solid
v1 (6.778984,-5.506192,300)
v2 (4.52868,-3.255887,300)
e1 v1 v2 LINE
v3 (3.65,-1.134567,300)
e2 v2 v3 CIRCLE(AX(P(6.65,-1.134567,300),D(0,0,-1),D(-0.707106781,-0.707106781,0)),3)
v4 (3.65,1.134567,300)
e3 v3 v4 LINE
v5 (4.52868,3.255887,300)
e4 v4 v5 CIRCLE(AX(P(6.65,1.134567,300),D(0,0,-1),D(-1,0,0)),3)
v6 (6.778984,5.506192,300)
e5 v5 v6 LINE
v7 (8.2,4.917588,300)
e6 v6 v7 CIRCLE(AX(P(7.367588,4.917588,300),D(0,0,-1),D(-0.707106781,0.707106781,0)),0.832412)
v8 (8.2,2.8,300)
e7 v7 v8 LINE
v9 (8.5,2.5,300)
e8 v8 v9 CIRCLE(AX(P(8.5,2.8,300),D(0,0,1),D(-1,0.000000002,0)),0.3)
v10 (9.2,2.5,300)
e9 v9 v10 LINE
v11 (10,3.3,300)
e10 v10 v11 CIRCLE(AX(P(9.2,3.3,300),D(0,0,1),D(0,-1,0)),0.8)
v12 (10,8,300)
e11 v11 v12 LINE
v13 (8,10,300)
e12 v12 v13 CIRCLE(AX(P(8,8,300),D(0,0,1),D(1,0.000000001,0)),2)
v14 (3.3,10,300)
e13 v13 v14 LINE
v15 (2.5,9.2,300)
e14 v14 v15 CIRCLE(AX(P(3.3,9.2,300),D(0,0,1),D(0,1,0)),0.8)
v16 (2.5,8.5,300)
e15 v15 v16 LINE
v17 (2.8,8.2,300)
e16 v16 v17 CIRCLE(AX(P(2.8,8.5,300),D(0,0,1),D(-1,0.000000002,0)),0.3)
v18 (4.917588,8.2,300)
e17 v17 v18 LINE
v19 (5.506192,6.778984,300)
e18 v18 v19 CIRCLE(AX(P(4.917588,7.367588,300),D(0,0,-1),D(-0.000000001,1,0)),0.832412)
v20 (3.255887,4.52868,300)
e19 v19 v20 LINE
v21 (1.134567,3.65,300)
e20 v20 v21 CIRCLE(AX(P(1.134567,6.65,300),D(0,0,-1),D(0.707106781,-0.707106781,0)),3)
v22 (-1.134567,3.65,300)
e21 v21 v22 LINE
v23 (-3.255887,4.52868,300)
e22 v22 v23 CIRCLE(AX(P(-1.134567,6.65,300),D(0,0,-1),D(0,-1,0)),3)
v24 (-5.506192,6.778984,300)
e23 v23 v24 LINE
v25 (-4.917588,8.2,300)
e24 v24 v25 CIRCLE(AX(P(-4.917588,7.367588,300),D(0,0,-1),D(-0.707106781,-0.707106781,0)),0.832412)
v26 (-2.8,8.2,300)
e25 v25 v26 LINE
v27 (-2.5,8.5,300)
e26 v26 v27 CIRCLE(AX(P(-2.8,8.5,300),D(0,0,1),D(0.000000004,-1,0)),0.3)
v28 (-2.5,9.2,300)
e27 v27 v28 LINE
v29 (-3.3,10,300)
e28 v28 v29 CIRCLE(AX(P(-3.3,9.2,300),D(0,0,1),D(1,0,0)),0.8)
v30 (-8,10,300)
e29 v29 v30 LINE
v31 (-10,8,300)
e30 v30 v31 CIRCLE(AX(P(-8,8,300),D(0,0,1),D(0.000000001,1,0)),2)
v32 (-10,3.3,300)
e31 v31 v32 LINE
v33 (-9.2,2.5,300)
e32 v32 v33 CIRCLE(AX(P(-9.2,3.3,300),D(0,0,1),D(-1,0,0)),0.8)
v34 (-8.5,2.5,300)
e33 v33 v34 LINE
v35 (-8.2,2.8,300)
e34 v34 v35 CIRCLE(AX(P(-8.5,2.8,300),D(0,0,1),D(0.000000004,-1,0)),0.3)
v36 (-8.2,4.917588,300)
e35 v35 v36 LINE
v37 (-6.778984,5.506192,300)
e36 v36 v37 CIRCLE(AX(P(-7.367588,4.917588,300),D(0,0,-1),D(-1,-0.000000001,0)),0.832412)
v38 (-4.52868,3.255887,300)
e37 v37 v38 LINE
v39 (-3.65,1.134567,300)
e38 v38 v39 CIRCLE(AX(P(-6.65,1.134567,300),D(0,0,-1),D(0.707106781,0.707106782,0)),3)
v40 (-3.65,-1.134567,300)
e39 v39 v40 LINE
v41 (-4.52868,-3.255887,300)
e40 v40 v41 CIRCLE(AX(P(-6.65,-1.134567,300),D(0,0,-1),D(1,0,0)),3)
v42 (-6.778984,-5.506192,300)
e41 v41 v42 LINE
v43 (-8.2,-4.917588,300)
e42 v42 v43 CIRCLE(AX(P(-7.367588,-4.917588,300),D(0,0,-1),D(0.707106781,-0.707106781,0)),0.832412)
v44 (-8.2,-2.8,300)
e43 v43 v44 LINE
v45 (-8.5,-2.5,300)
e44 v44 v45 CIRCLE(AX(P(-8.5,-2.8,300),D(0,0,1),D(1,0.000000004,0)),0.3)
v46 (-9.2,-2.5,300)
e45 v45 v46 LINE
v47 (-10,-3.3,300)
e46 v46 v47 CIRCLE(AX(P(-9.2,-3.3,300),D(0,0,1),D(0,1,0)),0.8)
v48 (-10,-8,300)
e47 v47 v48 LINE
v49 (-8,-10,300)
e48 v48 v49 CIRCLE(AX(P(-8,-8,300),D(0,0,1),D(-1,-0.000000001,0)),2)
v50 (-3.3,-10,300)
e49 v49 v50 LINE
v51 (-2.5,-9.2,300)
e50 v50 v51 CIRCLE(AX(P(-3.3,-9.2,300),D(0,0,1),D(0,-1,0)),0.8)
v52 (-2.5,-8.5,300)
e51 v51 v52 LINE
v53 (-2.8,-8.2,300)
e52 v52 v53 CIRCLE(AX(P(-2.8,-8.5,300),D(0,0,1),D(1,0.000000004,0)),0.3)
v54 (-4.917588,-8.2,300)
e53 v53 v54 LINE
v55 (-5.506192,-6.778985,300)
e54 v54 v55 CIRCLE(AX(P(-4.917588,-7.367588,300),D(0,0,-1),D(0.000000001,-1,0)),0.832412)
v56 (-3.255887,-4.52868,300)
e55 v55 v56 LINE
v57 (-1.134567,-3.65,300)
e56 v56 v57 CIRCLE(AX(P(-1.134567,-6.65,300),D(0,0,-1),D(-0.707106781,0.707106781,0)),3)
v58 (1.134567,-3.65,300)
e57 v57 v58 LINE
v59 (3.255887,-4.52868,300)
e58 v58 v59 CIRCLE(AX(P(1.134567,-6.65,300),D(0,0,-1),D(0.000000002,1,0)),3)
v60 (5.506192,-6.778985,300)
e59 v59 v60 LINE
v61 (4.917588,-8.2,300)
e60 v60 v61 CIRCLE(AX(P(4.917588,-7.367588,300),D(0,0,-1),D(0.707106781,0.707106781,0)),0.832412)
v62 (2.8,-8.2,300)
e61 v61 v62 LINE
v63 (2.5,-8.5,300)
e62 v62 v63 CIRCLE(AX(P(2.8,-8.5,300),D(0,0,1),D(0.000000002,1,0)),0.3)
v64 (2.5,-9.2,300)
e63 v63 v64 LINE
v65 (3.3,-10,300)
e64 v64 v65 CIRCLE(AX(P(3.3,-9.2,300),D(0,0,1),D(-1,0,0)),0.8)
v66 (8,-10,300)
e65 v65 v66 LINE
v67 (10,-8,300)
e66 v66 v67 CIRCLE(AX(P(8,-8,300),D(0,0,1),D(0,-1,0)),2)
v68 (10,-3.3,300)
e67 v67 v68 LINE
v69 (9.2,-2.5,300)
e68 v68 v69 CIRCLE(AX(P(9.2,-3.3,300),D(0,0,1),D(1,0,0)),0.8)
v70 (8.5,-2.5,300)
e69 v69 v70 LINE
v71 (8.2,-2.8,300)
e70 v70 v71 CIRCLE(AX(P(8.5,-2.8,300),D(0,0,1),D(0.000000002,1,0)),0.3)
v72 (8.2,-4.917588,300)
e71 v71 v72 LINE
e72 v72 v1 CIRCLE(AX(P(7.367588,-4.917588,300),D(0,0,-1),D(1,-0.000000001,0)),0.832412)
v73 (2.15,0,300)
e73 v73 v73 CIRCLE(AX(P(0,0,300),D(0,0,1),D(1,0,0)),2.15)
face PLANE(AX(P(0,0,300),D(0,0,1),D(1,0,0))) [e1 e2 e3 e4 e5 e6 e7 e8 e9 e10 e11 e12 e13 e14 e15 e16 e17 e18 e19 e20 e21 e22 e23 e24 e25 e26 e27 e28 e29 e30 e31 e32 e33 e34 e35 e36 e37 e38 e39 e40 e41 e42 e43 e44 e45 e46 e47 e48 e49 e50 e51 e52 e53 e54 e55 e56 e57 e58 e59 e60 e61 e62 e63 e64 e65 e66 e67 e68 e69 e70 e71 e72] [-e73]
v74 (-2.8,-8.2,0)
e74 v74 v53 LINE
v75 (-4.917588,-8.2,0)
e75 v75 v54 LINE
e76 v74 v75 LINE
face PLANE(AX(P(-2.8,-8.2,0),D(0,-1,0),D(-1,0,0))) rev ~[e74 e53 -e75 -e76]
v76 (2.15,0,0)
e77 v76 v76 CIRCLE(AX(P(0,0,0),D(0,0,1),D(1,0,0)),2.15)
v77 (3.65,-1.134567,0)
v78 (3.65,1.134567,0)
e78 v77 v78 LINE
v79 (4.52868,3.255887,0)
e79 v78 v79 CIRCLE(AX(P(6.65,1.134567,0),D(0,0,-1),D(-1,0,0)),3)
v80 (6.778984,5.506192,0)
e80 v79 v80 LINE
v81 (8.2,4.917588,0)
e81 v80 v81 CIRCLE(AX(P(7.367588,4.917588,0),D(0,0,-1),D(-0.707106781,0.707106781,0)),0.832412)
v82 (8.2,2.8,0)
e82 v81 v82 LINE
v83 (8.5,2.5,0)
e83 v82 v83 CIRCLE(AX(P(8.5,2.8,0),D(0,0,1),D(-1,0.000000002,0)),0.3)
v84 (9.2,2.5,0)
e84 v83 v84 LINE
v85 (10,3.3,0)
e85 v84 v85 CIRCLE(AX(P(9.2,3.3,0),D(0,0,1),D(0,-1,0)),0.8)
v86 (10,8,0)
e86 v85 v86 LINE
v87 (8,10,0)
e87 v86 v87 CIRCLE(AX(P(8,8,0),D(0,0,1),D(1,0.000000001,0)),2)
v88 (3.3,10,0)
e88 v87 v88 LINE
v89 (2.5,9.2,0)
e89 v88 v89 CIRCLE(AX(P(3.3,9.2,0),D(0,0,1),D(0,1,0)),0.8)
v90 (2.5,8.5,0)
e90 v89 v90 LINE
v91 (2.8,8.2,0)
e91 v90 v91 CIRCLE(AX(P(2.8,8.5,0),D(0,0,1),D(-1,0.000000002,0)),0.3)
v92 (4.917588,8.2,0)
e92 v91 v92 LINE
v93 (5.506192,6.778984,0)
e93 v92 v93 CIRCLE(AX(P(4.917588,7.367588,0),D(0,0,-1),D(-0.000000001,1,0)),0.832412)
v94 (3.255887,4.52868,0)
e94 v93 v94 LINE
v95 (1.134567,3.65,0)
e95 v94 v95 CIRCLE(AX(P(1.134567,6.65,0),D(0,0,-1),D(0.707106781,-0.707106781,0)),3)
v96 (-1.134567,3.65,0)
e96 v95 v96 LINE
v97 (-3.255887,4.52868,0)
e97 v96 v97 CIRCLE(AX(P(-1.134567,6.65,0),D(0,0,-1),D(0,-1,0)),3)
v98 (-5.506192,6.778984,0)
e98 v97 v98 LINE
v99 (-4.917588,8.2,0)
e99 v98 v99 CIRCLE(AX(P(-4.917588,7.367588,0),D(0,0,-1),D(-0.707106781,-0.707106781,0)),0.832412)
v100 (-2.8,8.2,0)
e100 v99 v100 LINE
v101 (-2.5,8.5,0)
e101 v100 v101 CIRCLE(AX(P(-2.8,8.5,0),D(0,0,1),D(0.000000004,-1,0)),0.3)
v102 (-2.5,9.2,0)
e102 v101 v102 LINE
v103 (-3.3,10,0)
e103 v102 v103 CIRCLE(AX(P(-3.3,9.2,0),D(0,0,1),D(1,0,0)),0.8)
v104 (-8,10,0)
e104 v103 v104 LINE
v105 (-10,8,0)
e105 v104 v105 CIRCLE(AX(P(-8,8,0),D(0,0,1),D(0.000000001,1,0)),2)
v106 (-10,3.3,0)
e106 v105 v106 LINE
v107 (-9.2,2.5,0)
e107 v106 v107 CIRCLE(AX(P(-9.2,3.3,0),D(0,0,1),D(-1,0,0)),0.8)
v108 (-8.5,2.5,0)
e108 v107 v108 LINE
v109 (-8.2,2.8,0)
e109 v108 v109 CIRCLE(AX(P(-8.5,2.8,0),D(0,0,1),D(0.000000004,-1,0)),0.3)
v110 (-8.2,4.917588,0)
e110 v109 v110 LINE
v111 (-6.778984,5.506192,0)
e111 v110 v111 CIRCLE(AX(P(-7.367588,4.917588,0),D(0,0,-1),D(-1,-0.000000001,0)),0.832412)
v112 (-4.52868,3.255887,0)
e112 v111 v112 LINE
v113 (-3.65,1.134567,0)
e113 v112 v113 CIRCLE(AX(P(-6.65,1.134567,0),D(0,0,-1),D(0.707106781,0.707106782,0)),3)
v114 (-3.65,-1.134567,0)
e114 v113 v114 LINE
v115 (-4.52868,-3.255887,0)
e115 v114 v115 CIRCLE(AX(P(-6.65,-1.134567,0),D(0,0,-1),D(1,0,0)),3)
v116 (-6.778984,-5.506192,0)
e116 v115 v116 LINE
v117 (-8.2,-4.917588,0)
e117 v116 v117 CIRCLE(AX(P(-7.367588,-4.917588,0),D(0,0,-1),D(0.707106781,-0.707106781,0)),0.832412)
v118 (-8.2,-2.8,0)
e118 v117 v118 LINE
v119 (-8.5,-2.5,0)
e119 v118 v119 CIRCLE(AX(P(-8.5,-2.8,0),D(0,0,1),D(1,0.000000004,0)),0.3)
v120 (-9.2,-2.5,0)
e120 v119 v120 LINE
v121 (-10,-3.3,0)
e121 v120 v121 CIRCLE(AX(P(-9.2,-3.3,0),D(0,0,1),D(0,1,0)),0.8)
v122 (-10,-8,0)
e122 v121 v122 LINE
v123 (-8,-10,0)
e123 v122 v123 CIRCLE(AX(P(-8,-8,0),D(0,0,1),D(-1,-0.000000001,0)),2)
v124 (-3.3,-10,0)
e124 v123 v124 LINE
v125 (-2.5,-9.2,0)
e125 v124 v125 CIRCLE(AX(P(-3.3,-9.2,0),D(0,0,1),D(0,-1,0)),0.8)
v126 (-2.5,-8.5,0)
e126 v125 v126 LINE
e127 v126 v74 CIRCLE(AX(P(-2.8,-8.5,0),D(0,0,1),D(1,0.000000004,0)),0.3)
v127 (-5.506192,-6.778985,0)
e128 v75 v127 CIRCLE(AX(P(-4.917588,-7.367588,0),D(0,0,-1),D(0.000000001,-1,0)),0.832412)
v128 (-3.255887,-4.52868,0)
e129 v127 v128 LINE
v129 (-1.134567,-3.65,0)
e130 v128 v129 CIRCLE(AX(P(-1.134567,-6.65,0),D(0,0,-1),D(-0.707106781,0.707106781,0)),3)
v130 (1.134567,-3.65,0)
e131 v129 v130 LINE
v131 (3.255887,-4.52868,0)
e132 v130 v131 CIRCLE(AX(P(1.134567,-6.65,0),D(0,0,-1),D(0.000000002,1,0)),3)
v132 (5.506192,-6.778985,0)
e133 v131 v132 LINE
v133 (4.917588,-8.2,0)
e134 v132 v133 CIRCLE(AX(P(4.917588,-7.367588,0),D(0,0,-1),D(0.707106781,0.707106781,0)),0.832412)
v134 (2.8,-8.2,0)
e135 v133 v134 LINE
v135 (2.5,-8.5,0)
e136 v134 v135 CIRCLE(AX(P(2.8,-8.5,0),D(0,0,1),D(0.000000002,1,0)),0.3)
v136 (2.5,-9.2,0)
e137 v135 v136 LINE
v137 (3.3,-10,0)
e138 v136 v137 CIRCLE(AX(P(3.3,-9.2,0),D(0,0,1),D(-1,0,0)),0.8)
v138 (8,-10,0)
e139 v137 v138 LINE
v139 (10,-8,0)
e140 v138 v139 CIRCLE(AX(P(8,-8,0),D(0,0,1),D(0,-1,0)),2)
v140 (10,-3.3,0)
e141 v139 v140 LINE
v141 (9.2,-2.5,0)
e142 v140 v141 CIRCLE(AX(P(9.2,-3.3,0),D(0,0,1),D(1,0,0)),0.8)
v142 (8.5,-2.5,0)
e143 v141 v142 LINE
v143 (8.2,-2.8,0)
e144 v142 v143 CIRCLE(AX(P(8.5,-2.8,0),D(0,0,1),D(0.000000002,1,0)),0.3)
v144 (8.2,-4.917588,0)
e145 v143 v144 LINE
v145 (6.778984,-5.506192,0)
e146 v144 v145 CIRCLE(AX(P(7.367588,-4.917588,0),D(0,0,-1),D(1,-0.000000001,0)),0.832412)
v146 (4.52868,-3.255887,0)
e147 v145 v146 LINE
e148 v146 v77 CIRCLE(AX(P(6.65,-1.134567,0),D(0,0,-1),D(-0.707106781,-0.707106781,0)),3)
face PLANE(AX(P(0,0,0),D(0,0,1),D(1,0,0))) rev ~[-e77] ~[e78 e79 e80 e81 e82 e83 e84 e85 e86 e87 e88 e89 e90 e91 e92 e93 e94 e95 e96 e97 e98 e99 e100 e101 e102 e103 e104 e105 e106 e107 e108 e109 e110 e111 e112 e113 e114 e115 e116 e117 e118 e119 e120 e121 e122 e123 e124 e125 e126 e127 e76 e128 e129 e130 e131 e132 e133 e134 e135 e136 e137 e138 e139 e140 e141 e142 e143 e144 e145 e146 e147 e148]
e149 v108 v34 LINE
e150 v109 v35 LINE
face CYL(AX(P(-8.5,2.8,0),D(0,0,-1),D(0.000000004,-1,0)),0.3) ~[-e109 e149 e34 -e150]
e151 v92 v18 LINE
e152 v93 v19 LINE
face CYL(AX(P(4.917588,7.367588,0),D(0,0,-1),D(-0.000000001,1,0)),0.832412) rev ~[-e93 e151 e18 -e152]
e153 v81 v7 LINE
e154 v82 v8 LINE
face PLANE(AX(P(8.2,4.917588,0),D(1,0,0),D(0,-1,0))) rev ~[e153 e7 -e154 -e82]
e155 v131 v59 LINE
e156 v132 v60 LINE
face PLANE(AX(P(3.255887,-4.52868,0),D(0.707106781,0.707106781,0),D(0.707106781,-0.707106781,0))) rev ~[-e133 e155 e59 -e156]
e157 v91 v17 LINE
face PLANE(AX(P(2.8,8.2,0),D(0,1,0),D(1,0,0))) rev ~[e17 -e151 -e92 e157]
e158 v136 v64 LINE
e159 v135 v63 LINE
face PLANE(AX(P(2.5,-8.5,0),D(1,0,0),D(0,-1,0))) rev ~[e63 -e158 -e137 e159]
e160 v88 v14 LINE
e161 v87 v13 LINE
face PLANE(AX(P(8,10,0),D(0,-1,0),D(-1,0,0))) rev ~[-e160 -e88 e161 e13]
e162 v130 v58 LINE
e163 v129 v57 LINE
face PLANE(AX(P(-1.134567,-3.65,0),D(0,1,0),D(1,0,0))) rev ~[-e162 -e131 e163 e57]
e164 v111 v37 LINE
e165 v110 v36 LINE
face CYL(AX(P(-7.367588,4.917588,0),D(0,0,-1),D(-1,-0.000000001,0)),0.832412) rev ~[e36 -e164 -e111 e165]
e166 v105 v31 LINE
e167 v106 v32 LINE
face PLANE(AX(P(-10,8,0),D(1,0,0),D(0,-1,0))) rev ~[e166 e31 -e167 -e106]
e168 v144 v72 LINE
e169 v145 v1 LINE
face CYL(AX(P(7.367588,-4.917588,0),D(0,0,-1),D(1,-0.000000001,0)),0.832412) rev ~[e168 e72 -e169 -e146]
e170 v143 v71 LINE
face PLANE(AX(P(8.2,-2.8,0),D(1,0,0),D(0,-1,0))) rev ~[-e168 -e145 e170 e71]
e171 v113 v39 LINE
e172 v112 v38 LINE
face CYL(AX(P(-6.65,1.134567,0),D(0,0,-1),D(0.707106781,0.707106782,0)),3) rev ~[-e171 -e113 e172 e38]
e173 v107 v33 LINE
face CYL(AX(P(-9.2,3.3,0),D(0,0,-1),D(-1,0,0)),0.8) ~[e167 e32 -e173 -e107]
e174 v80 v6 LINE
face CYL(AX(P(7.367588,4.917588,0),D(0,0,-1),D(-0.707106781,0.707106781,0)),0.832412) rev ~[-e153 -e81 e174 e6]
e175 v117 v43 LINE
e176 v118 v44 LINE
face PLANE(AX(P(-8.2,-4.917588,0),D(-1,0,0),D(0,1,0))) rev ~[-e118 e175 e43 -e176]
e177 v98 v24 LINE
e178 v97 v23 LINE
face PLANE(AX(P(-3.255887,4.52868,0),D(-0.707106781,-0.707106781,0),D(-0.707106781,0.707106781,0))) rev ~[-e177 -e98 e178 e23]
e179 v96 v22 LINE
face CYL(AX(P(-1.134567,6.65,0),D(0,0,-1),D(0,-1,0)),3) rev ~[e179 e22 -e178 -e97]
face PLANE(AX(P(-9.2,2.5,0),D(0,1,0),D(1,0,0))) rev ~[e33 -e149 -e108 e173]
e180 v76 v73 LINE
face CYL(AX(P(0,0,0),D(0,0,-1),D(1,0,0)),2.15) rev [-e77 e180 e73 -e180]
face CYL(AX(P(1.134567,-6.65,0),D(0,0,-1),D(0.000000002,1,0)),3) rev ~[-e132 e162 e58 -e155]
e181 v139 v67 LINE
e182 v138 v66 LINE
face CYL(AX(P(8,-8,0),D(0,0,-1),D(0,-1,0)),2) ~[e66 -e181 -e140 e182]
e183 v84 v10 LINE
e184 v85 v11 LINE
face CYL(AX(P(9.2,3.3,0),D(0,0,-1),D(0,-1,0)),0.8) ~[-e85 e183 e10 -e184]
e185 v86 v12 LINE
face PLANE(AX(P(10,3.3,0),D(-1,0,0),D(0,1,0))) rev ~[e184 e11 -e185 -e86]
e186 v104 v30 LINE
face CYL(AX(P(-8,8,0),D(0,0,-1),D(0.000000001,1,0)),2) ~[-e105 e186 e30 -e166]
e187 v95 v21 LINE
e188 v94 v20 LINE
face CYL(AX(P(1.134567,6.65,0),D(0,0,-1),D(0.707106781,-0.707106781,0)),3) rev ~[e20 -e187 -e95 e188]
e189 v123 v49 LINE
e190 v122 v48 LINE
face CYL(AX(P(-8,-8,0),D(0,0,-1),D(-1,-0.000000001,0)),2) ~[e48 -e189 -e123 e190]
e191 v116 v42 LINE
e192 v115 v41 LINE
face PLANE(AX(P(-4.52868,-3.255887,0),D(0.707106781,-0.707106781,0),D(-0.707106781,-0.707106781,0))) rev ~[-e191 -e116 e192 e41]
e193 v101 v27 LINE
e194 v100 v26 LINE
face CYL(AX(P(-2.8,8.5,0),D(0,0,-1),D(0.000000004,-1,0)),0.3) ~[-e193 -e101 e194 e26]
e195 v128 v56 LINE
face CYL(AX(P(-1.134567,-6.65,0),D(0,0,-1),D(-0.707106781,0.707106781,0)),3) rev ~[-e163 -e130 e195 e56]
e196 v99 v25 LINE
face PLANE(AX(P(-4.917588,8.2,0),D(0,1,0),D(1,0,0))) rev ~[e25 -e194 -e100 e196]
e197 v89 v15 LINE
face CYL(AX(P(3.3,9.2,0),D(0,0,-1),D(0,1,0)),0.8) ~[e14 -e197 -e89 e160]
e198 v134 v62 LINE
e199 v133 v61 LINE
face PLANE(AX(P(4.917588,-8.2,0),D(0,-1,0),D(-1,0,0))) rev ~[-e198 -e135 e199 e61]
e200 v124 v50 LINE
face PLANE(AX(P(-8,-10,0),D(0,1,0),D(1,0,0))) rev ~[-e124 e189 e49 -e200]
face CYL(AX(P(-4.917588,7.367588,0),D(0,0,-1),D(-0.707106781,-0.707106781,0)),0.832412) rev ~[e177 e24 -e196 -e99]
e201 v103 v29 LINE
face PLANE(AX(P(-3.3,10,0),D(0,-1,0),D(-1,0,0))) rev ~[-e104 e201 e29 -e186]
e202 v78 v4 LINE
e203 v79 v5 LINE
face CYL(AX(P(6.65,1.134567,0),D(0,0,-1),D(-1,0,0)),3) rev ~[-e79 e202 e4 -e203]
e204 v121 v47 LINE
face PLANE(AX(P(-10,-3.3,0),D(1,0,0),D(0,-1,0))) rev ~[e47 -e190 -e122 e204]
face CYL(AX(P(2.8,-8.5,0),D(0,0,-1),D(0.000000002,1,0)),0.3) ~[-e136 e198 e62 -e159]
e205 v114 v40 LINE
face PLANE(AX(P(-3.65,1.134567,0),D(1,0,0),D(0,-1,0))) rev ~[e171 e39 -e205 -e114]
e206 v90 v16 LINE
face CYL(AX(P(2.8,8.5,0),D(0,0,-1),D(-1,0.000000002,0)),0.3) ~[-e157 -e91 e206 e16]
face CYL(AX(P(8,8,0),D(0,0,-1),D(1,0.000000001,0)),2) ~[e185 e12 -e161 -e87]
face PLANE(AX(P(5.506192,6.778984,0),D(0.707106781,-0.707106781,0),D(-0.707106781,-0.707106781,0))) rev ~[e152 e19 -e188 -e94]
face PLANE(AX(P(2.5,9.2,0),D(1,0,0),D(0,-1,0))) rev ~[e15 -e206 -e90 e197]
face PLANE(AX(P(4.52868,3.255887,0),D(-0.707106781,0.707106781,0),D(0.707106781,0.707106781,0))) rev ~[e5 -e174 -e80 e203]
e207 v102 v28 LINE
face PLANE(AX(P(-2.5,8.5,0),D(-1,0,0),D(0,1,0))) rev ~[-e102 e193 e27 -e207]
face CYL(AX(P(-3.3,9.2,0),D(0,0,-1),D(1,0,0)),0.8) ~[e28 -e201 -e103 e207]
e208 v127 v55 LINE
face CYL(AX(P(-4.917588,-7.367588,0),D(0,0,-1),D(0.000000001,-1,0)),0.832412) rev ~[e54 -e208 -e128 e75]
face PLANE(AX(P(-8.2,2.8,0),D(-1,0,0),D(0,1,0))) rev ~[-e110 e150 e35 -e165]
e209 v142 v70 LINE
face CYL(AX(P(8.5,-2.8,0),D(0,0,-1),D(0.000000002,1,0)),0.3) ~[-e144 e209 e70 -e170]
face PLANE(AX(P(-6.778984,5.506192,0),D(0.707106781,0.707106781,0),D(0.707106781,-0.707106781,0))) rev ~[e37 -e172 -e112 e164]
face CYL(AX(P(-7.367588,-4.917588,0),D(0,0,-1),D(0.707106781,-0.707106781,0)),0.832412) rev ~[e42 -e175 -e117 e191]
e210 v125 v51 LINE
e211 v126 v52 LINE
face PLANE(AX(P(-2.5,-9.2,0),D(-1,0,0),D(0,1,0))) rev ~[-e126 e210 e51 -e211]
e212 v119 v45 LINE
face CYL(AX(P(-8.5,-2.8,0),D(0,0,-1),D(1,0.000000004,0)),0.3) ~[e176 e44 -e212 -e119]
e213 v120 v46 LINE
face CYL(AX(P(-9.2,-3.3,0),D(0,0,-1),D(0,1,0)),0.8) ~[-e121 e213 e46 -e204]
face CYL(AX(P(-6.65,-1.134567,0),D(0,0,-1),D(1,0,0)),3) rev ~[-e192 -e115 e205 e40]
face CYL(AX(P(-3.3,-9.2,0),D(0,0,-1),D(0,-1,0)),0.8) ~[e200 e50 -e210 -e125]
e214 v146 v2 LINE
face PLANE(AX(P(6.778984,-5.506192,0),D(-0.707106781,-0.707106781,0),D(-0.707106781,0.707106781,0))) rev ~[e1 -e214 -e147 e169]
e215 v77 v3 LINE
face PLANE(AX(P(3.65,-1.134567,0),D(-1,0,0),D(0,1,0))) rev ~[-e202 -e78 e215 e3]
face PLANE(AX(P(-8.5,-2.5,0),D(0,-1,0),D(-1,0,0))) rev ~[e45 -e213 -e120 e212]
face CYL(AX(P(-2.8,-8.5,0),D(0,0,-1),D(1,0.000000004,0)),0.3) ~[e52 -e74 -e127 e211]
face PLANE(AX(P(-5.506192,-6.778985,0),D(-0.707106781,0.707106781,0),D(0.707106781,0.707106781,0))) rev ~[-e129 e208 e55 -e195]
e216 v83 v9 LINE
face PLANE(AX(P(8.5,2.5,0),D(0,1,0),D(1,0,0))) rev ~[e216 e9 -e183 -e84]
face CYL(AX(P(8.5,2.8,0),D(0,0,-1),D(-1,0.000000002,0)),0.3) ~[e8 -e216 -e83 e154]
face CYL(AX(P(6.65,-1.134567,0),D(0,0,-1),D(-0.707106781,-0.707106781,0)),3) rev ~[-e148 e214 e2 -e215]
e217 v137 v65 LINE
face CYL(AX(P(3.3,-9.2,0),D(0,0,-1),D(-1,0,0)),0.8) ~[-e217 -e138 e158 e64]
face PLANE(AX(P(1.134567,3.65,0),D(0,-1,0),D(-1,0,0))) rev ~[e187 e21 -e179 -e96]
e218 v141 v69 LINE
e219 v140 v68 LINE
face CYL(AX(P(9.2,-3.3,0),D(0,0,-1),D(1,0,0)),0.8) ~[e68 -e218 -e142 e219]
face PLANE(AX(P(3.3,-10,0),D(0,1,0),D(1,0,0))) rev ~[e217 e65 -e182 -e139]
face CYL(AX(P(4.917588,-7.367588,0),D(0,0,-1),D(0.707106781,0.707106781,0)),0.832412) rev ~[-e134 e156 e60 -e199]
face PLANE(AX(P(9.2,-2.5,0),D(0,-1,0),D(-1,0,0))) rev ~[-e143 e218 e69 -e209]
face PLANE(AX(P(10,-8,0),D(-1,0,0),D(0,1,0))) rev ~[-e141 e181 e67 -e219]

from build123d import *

# Parameters (mm, degrees)
BOSS_EXTRU_1_DEPTH = 300


with BuildPart() as part:
    # Esquisse1 → Boss.-Extru.1 (new body)
    with BuildSketch(Plane.XY):
        with BuildLine():
            Line((-3.255887446, 4.528679645), (-5.506192286, 6.778984485))
            ThreePointArc((-5.506192286, 6.778984485), (-5.686636441, 7.686138511), (-4.917588391, 8.199999989))
            Line((-4.917588391, 8.199999989), (-2.799999991, 8.199999989))
            ThreePointArc((-2.799999991, 8.199999989), (-2.587867957, 8.287867955), (-2.499999991, 8.499999989))
            Line((-2.499999991, 8.499999989), (-2.499999991, 9.199999989))
            ThreePointArc((-2.499999991, 9.199999989), (-2.734314566, 9.765685414), (-3.299999991, 9.999999989))
            Line((-3.299999991, 9.999999989), (-7.999999991, 9.999999989))
            ThreePointArc((-7.999999991, 9.999999989), (-9.414213554, 9.414213552), (-9.999999991, 7.999999989))
            Line((-9.999999991, 7.999999989), (-9.999999991, 3.299999989))
            ThreePointArc((-9.999999991, 3.299999989), (-9.765685416, 2.734314564), (-9.199999991, 2.499999989))
            Line((-9.199999991, 2.499999989), (-8.499999991, 2.499999989))
            ThreePointArc((-8.499999991, 2.499999989), (-8.287867957, 2.587867955), (-8.199999991, 2.799999989))
            Line((-8.199999991, 2.799999989), (-8.199999991, 4.917588389))
            ThreePointArc((-8.199999991, 4.917588389), (-7.686138517, 5.686636433), (-6.778984497, 5.506192279))
            Line((-6.778984497, 5.506192279), (-4.528679657, 3.255887439))
            ThreePointArc((-4.528679657, 3.255887439), (-3.878361403, 2.282617393), (-3.650000001, 1.134567096))
            Line((-3.650000001, 1.134567096), (-3.650000001, -1.134567114))
            ThreePointArc((-3.650000001, -1.134567114), (-3.878361403, -2.282617409), (-4.528679656, -3.255887454))
            Line((-4.528679656, -3.255887454), (-6.778984496, -5.506192294))
            ThreePointArc((-6.778984496, -5.506192294), (-7.686138522, -5.686636449), (-8.2, -4.9175884))
            Line((-8.2, -4.9175884), (-8.2, -2.8))
            ThreePointArc((-8.2, -2.8), (-8.287867966, -2.587867966), (-8.5, -2.5))
            Line((-8.5, -2.5), (-9.2, -2.5))
            ThreePointArc((-9.2, -2.5), (-9.765685425, -2.734314575), (-10, -3.3))
            Line((-10, -3.3), (-10, -8))
            ThreePointArc((-10, -8), (-9.414213562, -9.414213562), (-8, -10))
            Line((-8, -10), (-3.3, -10))
            ThreePointArc((-3.3, -10), (-2.734314575, -9.765685425), (-2.5, -9.2))
            Line((-2.5, -9.2), (-2.5, -8.5))
            ThreePointArc((-2.5, -8.5), (-2.587867966, -8.287867966), (-2.8, -8.2))
            Line((-2.8, -8.2), (-4.9175884, -8.2))
            ThreePointArc((-4.9175884, -8.2), (-5.686636444, -7.686138526), (-5.50619229, -6.778984506))
            Line((-5.50619229, -6.778984506), (-3.25588745, -4.528679666))
            ThreePointArc((-3.25588745, -4.528679666), (-2.282617404, -3.878361412), (-1.134567106, -3.650000009))
            Line((-1.134567106, -3.650000009), (1.134567104, -3.650000009))
            ThreePointArc((1.134567104, -3.650000009), (2.282617399, -3.878361412), (3.255887444, -4.528679664))
            Line((3.255887444, -4.528679664), (5.506192284, -6.778984504))
            ThreePointArc((5.506192284, -6.778984504), (5.686636439, -7.686138531), (4.917588389, -8.200000009))
            Line((4.917588389, -8.200000009), (2.799999989, -8.200000009))
            ThreePointArc((2.799999989, -8.200000009), (2.587867955, -8.287867974), (2.499999989, -8.500000009))
            Line((2.499999989, -8.500000009), (2.499999989, -9.200000009))
            ThreePointArc((2.499999989, -9.200000009), (2.734314564, -9.765685434), (3.299999989, -10.000000009))
            Line((3.299999989, -10.000000009), (7.999999989, -10.000000009))
            ThreePointArc((7.999999989, -10.000000009), (9.414213552, -9.414213571), (9.999999989, -8.000000009))
            Line((9.999999989, -8.000000009), (9.999999989, -3.300000009))
            ThreePointArc((9.999999989, -3.300000009), (9.765685414, -2.734314584), (9.199999989, -2.500000009))
            Line((9.199999989, -2.500000009), (8.499999989, -2.500000009))
            ThreePointArc((8.499999989, -2.500000009), (8.287867955, -2.587867974), (8.199999989, -2.800000009))
            Line((8.199999989, -2.800000009), (8.199999989, -4.917588409))
            ThreePointArc((8.199999989, -4.917588409), (7.686138515, -5.686636452), (6.778984495, -5.506192299))
            Line((6.778984495, -5.506192299), (4.528679655, -3.255887459))
            ThreePointArc((4.528679655, -3.255887459), (3.878361401, -2.282617412), (3.649999999, -1.134567115))
            Line((3.649999999, -1.134567115), (3.649999999, 1.134567095))
            ThreePointArc((3.649999999, 1.134567095), (3.878361401, 2.28261739), (4.528679654, 3.255887435))
            Line((4.528679654, 3.255887435), (6.778984494, 5.506192275))
            ThreePointArc((6.778984494, 5.506192275), (7.68613852, 5.68663643), (8.199999998, 4.917588381))
            Line((8.199999998, 4.917588381), (8.199999998, 2.799999981))
            ThreePointArc((8.199999998, 2.799999981), (8.287867964, 2.587867946), (8.499999998, 2.499999981))
            Line((8.499999998, 2.499999981), (9.199999998, 2.499999981))
            ThreePointArc((9.199999998, 2.499999981), (9.765685423, 2.734314556), (9.999999998, 3.299999981))
            Line((9.999999998, 3.299999981), (9.999999998, 7.999999981))
            ThreePointArc((9.999999998, 7.999999981), (9.41421356, 9.414213543), (7.999999998, 9.999999981))
            Line((7.999999998, 9.999999981), (3.299999998, 9.999999981))
            ThreePointArc((3.299999998, 9.999999981), (2.734314573, 9.765685406), (2.499999998, 9.199999981))
            Line((2.499999998, 9.199999981), (2.499999998, 8.499999981))
            ThreePointArc((2.499999998, 8.499999981), (2.587867964, 8.287867946), (2.799999998, 8.199999981))
            Line((2.799999998, 8.199999981), (4.917588398, 8.199999981))
            ThreePointArc((4.917588398, 8.199999981), (5.686636442, 7.686138507), (5.506192288, 6.778984487))
            Line((5.506192288, 6.778984487), (3.255887448, 4.528679647))
            ThreePointArc((3.255887448, 4.528679647), (2.282617402, 3.878361393), (1.134567104, 3.64999999))
            Line((1.134567104, 3.64999999), (-1.134567106, 3.64999999))
            ThreePointArc((-1.134567106, 3.64999999), (-2.282617401, 3.878361392), (-3.255887446, 4.528679645))
        make_face()
        with BuildLine():
            ThreePointArc((-2.15, 0), (0, -2.15), (2.15, 0))
            ThreePointArc((2.15, 0), (0, 2.15), (-2.15, 0))
        make_face(mode=Mode.SUBTRACT)
    extrude(amount=BOSS_EXTRU_1_DEPTH)


solid = part.part
